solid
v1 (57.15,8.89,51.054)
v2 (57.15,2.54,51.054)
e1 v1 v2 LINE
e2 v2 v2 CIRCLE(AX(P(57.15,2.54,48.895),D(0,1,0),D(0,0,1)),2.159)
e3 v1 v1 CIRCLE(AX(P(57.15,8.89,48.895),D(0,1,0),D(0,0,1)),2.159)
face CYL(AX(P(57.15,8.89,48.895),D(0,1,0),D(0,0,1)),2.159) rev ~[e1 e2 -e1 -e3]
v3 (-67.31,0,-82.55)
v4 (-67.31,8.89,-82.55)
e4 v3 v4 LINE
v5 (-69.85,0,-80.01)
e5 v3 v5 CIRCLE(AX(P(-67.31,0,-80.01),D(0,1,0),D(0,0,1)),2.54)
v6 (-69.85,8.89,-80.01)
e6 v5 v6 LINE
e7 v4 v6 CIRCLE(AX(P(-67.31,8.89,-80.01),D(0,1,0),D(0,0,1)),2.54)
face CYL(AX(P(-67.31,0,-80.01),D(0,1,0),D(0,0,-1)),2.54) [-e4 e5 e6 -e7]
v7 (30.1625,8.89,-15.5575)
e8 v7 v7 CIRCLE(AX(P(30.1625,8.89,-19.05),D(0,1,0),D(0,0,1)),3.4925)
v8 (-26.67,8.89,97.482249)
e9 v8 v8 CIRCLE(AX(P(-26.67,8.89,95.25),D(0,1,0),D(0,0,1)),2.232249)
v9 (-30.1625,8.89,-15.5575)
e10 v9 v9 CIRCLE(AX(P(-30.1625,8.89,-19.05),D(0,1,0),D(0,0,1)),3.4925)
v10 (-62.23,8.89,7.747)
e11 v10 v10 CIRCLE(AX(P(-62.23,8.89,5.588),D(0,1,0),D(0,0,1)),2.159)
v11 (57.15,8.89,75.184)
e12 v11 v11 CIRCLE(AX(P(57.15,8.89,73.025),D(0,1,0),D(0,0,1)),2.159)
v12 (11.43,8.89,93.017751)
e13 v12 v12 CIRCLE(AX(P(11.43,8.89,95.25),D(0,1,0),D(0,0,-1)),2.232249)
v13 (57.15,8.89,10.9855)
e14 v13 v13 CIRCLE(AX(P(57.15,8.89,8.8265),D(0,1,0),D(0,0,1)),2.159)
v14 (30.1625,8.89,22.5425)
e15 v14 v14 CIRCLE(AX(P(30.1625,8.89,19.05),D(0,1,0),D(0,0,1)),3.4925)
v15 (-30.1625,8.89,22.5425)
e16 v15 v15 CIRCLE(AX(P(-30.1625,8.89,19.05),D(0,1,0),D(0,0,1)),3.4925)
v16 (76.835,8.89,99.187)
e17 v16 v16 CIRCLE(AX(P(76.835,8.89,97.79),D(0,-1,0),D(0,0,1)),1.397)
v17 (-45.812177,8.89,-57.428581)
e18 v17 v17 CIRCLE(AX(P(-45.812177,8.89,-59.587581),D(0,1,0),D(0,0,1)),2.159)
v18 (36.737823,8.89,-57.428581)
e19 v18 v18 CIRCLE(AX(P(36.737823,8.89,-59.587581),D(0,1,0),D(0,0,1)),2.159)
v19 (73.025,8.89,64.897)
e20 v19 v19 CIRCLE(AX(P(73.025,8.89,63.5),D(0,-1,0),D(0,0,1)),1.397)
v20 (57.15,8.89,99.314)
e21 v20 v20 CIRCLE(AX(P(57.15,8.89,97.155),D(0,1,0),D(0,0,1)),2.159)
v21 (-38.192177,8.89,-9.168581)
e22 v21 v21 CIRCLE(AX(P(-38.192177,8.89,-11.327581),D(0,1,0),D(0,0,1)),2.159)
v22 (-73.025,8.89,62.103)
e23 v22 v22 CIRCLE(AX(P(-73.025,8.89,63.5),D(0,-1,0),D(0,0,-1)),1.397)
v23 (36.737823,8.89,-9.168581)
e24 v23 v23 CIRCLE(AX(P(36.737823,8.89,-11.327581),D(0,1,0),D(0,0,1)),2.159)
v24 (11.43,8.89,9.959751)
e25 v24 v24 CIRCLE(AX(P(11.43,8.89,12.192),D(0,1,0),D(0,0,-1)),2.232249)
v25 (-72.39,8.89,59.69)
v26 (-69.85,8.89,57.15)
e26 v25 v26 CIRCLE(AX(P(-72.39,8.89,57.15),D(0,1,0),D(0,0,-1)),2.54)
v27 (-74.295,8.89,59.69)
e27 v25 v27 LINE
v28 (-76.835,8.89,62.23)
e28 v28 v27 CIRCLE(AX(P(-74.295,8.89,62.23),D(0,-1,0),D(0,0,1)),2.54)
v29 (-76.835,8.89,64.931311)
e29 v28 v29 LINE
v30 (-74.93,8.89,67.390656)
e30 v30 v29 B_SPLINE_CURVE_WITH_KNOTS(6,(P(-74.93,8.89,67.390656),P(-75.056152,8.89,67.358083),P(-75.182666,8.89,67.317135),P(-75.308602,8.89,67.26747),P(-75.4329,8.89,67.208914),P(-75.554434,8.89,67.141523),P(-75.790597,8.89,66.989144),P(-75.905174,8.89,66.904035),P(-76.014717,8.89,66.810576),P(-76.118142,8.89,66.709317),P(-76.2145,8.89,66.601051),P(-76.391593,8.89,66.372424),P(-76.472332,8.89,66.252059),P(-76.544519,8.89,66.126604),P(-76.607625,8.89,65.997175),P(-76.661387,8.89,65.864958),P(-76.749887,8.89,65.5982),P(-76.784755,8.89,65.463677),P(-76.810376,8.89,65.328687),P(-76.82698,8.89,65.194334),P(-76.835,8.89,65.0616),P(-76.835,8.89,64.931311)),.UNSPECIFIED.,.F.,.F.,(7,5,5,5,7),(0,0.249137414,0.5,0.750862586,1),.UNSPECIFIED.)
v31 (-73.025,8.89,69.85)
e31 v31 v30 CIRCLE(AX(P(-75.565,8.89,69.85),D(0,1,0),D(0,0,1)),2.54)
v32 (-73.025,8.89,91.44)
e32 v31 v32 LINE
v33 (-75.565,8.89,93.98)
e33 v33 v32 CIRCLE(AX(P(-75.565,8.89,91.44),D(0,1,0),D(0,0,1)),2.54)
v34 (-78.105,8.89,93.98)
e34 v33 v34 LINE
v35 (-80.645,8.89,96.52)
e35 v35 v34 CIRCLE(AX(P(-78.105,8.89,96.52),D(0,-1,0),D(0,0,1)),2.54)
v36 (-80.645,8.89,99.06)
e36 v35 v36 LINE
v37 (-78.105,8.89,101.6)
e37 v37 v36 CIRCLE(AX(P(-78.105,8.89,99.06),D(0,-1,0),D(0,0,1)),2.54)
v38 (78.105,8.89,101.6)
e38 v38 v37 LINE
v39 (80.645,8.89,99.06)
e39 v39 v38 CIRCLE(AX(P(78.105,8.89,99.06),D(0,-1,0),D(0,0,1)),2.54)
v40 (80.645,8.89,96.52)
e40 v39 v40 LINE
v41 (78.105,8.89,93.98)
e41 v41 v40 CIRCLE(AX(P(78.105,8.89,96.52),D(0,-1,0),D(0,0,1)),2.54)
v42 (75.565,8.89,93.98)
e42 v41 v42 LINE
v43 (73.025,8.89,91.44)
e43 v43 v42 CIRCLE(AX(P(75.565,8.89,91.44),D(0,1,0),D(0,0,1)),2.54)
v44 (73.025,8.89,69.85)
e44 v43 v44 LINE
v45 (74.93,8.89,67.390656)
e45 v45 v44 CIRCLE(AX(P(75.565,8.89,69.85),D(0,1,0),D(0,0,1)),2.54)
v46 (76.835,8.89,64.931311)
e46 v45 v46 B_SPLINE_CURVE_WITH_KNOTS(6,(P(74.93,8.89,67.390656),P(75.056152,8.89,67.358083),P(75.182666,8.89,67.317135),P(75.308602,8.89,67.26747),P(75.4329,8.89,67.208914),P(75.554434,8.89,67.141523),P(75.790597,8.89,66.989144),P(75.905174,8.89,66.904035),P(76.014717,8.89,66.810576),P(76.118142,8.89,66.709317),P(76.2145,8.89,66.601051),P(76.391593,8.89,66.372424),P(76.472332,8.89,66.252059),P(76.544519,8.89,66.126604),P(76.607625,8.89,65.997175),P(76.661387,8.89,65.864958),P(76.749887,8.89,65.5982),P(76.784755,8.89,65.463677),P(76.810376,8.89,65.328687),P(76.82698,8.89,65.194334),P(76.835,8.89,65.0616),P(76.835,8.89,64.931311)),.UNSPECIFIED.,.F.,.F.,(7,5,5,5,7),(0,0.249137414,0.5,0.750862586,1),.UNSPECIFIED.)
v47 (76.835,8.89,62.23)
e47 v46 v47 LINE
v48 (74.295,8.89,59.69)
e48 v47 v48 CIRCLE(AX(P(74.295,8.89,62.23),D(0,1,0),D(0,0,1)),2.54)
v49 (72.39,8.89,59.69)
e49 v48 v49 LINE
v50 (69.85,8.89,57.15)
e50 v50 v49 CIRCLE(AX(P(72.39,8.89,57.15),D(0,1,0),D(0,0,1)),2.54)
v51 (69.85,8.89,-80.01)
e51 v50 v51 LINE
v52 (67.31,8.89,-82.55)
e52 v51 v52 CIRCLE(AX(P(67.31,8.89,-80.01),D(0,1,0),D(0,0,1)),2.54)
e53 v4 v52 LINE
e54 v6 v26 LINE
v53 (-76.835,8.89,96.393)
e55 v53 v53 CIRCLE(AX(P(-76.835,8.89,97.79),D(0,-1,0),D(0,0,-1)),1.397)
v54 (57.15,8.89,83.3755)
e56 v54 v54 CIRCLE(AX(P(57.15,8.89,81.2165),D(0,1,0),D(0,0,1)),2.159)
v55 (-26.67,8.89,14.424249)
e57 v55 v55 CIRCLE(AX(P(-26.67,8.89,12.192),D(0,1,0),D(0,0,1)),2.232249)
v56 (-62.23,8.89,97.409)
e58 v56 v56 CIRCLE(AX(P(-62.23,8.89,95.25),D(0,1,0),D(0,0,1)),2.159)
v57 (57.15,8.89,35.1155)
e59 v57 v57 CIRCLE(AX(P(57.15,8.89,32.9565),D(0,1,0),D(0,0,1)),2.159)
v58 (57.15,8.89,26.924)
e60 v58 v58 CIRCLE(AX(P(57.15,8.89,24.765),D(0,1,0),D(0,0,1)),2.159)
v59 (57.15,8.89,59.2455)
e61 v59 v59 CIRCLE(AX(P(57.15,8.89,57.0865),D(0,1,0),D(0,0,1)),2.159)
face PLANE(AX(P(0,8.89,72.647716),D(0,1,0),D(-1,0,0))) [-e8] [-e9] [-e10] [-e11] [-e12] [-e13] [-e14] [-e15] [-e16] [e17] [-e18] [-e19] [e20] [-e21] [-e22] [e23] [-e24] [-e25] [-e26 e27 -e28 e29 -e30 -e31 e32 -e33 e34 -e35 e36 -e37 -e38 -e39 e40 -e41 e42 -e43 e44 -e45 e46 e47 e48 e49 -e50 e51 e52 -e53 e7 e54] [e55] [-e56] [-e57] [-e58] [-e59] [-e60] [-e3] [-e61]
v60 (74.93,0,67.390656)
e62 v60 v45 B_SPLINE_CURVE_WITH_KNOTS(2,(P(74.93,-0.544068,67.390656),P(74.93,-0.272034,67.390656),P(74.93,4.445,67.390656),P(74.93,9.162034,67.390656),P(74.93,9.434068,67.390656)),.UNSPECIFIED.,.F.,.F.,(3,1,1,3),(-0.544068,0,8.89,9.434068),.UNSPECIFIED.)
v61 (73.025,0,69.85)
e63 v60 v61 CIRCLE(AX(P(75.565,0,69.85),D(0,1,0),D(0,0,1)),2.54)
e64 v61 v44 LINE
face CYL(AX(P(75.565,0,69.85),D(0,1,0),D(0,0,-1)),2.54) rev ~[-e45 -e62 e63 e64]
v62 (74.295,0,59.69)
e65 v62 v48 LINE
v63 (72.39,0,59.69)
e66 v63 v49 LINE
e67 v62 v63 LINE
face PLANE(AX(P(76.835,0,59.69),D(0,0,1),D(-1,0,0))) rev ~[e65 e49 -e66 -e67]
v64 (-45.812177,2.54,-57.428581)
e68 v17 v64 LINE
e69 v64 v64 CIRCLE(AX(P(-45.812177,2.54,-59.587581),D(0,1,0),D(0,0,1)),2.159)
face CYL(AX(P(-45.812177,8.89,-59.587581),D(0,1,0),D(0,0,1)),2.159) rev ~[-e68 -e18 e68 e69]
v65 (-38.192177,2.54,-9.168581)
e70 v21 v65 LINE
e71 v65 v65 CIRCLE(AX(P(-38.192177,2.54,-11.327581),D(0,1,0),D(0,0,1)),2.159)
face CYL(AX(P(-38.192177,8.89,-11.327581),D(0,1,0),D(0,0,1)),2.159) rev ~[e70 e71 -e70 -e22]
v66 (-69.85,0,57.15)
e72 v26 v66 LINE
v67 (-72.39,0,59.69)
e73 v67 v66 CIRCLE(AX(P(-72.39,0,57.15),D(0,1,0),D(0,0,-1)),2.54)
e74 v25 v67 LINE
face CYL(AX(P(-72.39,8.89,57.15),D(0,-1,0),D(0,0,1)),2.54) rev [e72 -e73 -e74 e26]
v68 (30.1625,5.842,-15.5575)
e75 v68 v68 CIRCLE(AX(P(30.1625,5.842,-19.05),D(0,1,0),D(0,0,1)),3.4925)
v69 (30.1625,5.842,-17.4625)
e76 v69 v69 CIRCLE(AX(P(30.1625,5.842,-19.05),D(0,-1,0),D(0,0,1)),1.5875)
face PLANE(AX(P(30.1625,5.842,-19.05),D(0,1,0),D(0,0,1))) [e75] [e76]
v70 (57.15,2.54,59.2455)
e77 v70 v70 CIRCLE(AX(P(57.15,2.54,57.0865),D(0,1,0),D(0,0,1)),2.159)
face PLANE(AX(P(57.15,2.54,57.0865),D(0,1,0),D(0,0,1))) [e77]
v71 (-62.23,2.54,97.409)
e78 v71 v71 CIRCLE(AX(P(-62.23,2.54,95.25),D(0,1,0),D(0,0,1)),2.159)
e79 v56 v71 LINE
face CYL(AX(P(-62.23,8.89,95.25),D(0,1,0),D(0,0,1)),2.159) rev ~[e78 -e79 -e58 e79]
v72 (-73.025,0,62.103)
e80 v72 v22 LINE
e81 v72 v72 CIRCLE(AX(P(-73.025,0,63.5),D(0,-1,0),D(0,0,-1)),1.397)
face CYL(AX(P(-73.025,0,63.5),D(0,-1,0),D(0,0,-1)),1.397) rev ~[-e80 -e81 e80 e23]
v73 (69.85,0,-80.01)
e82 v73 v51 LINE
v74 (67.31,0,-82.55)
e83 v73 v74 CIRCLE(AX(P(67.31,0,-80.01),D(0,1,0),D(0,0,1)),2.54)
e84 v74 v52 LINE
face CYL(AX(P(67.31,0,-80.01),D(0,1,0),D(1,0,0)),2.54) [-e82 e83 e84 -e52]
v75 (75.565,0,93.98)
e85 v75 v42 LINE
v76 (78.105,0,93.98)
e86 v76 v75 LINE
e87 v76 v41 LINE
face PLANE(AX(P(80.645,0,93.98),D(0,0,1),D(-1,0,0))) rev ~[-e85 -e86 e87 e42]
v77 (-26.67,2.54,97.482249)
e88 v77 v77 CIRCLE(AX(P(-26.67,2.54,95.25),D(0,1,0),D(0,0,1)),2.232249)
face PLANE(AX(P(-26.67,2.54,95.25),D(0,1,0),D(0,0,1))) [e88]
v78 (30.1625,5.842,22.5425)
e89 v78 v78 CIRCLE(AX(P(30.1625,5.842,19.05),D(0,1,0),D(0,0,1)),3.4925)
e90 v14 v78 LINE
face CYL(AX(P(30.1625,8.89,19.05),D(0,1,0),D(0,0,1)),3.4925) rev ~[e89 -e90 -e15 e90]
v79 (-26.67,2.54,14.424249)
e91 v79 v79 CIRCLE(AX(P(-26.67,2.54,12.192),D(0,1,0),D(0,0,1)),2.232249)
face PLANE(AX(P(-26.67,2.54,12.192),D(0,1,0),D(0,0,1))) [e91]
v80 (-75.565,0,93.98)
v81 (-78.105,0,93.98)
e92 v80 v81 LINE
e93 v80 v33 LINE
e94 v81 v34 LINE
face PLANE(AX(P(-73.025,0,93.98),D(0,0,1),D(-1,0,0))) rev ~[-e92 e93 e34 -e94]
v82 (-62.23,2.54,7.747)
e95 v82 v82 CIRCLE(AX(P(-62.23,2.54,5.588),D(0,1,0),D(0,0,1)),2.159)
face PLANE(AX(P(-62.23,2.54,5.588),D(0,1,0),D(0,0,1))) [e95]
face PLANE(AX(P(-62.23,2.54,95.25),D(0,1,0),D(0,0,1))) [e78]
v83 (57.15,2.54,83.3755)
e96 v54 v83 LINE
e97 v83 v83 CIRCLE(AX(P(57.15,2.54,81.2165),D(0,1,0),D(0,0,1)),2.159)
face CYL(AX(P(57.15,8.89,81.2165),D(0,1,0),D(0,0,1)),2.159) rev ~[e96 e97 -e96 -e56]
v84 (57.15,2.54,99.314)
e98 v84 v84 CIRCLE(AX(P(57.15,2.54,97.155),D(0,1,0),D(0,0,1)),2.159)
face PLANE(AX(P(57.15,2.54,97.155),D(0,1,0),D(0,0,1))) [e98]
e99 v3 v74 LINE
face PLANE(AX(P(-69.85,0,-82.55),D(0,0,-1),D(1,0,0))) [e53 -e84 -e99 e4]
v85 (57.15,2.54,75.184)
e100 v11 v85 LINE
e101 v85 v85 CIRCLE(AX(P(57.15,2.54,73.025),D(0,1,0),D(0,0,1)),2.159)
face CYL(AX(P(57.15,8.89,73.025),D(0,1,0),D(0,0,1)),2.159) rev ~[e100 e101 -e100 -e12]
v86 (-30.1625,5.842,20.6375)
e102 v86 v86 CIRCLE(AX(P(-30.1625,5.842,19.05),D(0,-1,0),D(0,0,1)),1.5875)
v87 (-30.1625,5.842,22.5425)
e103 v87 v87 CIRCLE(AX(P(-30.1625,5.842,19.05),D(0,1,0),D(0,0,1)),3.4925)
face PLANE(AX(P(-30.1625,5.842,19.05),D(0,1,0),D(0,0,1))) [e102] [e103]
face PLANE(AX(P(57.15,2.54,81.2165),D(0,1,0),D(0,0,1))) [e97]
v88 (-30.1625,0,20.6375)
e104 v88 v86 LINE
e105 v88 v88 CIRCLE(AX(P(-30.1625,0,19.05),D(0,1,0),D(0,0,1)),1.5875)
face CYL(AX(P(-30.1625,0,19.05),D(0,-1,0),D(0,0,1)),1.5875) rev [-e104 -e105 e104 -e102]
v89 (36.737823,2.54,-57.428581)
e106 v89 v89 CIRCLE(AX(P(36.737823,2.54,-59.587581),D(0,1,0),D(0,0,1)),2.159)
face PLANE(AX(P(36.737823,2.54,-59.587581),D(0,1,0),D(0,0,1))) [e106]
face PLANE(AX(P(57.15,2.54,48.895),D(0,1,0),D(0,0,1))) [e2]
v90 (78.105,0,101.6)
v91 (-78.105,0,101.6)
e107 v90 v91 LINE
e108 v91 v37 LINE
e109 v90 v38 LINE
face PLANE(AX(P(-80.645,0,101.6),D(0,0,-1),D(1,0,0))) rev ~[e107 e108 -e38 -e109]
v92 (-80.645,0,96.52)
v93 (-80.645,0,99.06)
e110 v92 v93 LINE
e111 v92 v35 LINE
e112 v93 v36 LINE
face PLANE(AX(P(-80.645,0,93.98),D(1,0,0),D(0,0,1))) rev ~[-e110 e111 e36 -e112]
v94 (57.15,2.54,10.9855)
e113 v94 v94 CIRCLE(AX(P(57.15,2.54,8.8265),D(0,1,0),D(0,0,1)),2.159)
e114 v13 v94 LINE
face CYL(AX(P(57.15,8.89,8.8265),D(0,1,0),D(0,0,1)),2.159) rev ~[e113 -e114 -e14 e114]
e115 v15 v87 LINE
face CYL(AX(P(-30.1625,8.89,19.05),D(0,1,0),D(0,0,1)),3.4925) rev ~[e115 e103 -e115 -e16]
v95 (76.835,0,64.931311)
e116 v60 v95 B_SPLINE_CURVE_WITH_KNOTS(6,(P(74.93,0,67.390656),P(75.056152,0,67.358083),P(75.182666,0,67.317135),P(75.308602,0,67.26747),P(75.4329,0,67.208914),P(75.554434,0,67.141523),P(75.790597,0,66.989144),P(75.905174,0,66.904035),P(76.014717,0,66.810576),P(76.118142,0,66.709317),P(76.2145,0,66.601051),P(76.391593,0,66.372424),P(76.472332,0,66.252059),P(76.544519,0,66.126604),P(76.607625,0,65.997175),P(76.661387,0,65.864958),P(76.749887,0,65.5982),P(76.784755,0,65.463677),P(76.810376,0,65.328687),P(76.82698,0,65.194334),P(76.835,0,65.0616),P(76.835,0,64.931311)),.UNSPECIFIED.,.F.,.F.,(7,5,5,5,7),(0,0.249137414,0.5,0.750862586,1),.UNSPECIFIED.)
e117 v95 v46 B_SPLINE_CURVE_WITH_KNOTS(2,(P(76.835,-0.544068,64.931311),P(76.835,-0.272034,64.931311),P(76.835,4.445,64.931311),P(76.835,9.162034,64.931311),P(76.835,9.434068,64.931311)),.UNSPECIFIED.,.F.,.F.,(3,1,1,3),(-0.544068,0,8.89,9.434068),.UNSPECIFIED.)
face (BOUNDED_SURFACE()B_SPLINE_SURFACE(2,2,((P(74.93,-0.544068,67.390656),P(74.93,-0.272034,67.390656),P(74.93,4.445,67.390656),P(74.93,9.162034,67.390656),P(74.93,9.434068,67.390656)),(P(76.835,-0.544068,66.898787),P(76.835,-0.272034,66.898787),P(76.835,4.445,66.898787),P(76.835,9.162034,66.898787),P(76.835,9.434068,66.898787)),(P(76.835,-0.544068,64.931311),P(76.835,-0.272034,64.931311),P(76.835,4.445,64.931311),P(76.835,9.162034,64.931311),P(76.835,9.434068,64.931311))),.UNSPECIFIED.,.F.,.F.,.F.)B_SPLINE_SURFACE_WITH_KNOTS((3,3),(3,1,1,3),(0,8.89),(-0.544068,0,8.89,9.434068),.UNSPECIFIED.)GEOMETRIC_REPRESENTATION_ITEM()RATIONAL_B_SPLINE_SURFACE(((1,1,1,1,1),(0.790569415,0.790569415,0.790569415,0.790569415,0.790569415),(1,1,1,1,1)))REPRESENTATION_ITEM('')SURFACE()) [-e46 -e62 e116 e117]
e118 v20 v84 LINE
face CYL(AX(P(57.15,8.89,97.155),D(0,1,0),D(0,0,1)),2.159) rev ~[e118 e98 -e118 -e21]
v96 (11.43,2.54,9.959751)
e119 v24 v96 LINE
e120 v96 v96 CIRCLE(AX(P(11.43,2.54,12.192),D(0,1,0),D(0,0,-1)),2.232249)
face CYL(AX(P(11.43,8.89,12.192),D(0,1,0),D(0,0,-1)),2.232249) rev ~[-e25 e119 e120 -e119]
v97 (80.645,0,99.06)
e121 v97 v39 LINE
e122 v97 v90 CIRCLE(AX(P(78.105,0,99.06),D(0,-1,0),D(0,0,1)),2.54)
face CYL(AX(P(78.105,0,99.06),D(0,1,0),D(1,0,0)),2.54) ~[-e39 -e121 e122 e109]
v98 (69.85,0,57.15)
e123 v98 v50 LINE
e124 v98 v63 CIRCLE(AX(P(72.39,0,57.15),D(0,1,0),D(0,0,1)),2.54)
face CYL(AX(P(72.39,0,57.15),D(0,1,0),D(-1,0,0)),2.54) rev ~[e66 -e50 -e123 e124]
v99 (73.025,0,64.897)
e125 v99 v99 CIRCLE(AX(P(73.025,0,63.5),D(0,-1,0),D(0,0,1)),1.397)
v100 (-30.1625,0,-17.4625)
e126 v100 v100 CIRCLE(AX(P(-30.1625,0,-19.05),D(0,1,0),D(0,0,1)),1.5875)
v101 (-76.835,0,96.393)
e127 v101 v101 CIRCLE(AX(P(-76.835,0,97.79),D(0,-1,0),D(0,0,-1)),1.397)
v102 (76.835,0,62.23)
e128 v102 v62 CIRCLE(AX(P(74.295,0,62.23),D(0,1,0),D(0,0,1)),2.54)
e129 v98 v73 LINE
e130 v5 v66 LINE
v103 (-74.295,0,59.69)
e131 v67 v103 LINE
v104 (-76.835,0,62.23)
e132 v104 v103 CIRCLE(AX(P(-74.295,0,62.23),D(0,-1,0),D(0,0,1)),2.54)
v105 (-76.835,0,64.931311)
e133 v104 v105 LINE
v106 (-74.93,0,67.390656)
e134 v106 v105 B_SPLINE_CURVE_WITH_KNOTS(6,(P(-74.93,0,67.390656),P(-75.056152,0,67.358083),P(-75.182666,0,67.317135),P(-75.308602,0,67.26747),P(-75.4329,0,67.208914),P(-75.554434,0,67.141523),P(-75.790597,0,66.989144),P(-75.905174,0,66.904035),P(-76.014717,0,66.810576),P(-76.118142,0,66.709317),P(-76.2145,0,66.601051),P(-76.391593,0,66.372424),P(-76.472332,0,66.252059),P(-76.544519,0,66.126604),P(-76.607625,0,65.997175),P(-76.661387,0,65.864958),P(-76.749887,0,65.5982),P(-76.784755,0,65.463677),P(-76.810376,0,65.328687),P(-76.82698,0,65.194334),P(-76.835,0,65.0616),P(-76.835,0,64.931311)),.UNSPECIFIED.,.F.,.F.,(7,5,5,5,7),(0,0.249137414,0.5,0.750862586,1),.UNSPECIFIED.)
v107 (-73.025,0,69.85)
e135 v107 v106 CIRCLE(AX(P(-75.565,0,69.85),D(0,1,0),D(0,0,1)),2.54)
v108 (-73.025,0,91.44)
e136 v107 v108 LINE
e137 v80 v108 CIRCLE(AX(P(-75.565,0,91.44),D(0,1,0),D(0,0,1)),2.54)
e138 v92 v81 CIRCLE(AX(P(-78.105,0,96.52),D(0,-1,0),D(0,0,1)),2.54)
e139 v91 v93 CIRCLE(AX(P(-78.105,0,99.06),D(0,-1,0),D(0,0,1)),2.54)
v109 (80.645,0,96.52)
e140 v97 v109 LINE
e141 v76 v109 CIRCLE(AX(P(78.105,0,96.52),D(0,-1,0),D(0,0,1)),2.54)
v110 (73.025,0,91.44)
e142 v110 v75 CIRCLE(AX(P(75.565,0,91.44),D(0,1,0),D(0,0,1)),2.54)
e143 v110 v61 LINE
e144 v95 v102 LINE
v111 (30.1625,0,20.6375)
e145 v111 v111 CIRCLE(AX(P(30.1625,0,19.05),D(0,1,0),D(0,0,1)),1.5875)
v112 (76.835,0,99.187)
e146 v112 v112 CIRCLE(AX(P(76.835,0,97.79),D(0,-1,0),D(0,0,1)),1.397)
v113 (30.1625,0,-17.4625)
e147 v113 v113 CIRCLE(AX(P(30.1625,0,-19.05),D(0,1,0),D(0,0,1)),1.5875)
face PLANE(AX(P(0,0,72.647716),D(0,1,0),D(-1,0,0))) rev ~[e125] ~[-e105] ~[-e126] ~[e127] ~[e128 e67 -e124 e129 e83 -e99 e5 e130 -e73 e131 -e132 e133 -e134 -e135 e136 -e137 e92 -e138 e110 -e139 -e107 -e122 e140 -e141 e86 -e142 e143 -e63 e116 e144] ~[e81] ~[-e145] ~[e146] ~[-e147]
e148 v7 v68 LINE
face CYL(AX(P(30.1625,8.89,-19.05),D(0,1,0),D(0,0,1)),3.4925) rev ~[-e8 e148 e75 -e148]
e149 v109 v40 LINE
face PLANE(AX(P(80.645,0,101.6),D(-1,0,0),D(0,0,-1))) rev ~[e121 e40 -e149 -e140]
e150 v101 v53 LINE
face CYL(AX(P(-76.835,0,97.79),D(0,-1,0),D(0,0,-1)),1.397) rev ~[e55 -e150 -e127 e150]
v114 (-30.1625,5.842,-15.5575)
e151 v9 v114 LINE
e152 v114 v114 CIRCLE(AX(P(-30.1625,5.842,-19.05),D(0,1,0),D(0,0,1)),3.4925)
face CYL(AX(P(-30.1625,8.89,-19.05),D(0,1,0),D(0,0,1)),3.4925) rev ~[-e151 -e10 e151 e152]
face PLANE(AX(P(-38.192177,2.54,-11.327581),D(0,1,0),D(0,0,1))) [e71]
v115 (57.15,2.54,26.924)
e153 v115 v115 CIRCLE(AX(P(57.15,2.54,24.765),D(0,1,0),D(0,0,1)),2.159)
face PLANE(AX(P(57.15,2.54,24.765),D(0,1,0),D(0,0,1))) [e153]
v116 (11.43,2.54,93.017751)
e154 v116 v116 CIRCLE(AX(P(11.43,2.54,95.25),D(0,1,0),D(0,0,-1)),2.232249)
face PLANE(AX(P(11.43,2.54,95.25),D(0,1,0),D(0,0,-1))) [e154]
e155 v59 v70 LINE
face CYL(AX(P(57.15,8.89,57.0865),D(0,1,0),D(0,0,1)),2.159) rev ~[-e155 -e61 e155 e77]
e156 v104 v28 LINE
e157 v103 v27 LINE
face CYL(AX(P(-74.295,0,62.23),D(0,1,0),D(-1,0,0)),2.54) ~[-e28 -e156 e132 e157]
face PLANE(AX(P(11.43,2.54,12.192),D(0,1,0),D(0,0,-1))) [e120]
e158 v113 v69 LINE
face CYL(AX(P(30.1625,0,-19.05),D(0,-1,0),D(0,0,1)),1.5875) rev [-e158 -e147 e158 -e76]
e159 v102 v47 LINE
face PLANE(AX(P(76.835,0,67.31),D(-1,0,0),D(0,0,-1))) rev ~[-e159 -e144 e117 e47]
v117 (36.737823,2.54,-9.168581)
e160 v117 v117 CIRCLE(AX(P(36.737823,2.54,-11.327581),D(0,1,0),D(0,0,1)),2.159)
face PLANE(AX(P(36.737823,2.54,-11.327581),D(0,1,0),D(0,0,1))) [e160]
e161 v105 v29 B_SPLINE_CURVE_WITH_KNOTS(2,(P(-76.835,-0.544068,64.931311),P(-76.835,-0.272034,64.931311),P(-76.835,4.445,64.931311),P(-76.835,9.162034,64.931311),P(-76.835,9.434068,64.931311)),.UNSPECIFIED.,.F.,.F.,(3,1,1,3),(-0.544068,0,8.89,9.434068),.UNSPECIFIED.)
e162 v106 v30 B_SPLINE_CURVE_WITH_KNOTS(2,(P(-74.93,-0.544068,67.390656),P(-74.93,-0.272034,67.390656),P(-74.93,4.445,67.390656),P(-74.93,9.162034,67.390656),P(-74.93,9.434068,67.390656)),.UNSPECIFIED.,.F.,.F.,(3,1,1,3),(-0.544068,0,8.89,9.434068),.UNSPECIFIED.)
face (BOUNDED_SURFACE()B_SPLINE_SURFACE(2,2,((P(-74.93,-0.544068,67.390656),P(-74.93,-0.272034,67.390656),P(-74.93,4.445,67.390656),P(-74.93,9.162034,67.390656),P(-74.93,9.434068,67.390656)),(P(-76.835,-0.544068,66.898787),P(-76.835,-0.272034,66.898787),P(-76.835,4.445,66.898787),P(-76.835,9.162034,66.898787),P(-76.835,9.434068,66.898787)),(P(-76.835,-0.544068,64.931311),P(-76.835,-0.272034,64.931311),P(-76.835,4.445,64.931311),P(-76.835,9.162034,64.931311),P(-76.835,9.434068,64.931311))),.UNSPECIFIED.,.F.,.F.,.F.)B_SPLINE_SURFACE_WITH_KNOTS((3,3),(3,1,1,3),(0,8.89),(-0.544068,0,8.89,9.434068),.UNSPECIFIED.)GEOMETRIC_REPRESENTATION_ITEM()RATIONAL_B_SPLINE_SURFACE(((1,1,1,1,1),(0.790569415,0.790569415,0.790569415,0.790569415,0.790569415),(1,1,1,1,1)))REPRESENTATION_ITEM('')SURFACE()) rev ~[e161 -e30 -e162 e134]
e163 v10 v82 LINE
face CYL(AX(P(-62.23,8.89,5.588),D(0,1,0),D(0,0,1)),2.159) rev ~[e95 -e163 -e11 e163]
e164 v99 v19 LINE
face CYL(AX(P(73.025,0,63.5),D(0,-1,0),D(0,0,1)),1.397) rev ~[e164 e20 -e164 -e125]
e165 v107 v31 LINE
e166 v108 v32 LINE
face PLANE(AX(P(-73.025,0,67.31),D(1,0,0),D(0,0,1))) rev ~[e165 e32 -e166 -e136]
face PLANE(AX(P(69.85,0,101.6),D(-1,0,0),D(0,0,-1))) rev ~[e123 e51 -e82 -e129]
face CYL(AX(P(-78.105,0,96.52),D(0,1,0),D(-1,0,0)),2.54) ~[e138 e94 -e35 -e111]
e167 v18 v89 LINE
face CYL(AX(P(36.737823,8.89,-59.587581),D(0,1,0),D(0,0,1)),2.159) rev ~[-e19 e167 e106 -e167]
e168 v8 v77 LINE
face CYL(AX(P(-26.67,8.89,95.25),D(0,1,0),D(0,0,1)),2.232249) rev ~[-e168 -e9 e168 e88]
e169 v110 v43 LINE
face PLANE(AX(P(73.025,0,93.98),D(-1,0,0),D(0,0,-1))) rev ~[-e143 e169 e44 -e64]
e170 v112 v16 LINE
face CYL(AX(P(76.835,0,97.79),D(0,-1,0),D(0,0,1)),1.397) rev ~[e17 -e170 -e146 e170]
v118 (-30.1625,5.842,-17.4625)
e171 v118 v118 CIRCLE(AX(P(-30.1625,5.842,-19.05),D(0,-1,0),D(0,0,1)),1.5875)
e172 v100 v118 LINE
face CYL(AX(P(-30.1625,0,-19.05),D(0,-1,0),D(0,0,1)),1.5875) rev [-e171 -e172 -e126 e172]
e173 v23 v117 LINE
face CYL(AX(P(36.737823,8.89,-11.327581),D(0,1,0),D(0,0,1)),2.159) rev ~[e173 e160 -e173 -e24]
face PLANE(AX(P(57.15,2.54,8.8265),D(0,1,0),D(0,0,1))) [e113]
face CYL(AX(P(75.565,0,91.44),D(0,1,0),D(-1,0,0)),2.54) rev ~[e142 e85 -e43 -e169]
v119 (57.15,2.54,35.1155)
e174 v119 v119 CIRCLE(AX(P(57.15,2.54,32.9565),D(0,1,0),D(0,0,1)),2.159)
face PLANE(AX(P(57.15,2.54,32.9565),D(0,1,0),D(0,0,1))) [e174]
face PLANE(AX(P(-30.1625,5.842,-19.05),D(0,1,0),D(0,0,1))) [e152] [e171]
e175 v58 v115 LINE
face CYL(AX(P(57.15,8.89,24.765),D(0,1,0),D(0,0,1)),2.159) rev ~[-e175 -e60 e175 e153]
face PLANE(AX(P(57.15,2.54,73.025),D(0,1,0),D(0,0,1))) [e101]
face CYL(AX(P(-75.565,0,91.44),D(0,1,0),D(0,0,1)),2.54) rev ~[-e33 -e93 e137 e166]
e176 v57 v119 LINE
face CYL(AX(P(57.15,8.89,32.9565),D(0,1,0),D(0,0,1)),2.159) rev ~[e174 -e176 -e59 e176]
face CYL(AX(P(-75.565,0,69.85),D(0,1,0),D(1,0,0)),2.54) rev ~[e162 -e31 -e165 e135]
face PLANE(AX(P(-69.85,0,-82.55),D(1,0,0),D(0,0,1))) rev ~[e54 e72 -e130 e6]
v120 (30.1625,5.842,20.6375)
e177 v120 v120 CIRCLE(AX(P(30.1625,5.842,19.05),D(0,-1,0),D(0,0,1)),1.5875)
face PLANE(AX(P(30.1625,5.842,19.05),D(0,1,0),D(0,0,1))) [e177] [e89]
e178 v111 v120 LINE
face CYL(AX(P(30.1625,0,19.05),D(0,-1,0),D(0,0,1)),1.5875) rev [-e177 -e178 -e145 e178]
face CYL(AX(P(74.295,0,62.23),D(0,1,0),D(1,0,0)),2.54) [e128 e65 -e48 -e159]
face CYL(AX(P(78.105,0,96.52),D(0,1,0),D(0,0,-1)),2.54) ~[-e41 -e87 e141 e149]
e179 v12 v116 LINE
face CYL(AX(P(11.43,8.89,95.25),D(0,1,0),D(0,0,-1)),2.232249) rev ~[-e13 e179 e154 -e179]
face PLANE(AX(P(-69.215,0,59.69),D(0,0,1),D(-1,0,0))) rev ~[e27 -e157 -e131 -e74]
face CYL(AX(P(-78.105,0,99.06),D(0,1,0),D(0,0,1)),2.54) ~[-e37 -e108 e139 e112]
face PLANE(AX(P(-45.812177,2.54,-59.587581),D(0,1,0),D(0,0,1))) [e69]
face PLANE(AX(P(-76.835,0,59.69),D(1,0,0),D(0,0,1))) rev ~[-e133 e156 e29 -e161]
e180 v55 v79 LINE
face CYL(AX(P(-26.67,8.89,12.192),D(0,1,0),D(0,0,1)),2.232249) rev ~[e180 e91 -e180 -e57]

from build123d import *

# Parameters (mm, degrees)
SKETCH2_R                    = 1.5875
MAINPLATE_DEPTH              = 8.89
SKETCH3_R                    = 3.4925
CASTERWHEEL_MOUNTHOLES_DEPTH = 3.048
SKETCH4_R                    = 2.159
ARDUINO_MOUNTHOLES_DEPTH     = 6.35
SKETCH5_R                    = 2.159
PDB_16A_MOUNTINGHOLES_DEPTH  = 6.35
SKETCH6_R                    = 2.232248555
PDB_15A_MOUNTINGHOLES_DEPTH  = 6.35
SKETCH7_R                    = 2.159
DRV8871_MOUNTINGHOLES_DEPTH  = 6.35
DRV8871_MOUNTPATTERN_COUNT   = 4
DRV8871_MOUNTPATTERN_PITCH   = 24.13
SKETCH8_R                    = 1.397
BOSS_EXTRUDE1_DEPTH          = 8.89
FILLET1_R                    = 2.54
FILLET2_R                    = 2.54


with BuildPart() as part:
    # Sketch2 → MainPlate (new body)
    with BuildSketch(Plane(origin=(0, 0, 0), x_dir=(1, 0, 0), z_dir=(0, 1, 0))):
        Polygon((-69.85, 0), (-69.85, 82.55), (69.85, 82.55), (69.85, 0), (69.85, -101.6), (-69.85, -101.6), align=None)
        with Locations(Location((30.1625, 19.05, 0), (0, 0, 270))):
            Circle(SKETCH2_R, mode=Mode.SUBTRACT)
        with Locations(Location((30.1625, -19.05, 0), (0, 0, 270))):
            Circle(SKETCH2_R, mode=Mode.SUBTRACT)
        with Locations(Location((-30.1625, -19.05, 0), (0, 0, 270))):
            Circle(SKETCH2_R, mode=Mode.SUBTRACT)
        with Locations(Location((-30.1625, 19.05, 0), (0, 0, 270))):
            Circle(SKETCH2_R, mode=Mode.SUBTRACT)
    extrude(amount=MAINPLATE_DEPTH)

    # Sketch3 → CasterWheel_MountHoles (cut)
    with BuildSketch(Plane(origin=(0, 8.89, 0), x_dir=(1, 0, 0), z_dir=(0, 1, 0))):
        with Locations(Location((-30.1625, 19.05, 0), (0, 0, 270))):
            Circle(SKETCH3_R)
        with Locations(Location((30.1625, 19.05, 0), (0, 0, 270))):
            Circle(SKETCH3_R)
        with Locations(Location((-30.1625, -19.05, 0), (0, 0, 270))):
            Circle(SKETCH3_R)
        with Locations(Location((30.1625, -19.05, 0), (0, 0, 270))):
            Circle(SKETCH3_R)
    extrude(amount=-CASTERWHEEL_MOUNTHOLES_DEPTH, mode=Mode.SUBTRACT)

    # Sketch4 → Arduino_MountHoles (cut)
    with BuildSketch(Plane(origin=(0, 8.89, 0), x_dir=(1, 0, 0), z_dir=(0, 1, 0))):
        with Locations(Location((-45.812177419, 59.587580645, 0), (0, 0, 270))):
            Circle(SKETCH4_R)
        with Locations(Location((-38.192177419, 11.327580645, 0), (0, 0, 270))):
            Circle(SKETCH4_R)
        with Locations(Location((36.737822581, 59.587580645, 0), (0, 0, 270))):
            Circle(SKETCH4_R)
        with Locations(Location((36.737822581, 11.327580645, 0), (0, 0, 270))):
            Circle(SKETCH4_R)
    extrude(amount=-ARDUINO_MOUNTHOLES_DEPTH, mode=Mode.SUBTRACT)

    # Sketch5 → PDB_16A_MountingHoles (cut)
    with BuildSketch(Plane(origin=(0, 8.89, 0), x_dir=(1, 0, 0), z_dir=(0, 1, 0))):
        with Locations(Location((-62.23, -5.588, 0), (0, 0, 270))):
            Circle(SKETCH5_R)
        with Locations(Location((-62.23, -95.25, 0), (0, 0, 270))):
            Circle(SKETCH5_R)
    extrude(amount=-PDB_16A_MOUNTINGHOLES_DEPTH, mode=Mode.SUBTRACT)

    # Sketch6 → PDB_15A_MountingHoles (cut)
    with BuildSketch(Plane(origin=(0, 8.89, 0), x_dir=(1, 0, 0), z_dir=(0, 1, 0))):
        with Locations(Location((-26.67, -95.25, 0), (0, 0, 270))):
            Circle(SKETCH6_R)
        with Locations(Location((-26.67, -12.192, 0), (0, 0, 270))):
            Circle(SKETCH6_R)
        with Locations(Location((11.43, -12.192, 0), (0, 0, 90))):
            Circle(SKETCH6_R)
        with Locations(Location((11.43, -95.25, 0), (0, 0, 90))):
            Circle(SKETCH6_R)
    extrude(amount=-PDB_15A_MOUNTINGHOLES_DEPTH, mode=Mode.SUBTRACT)

    # Sketch7 → DRV8871_MountingHoles (cut)
    with BuildSketch(Plane(origin=(0, 8.89, 0), x_dir=(1, 0, 0), z_dir=(0, 1, 0))):
        with Locations(Location((57.15, -97.155, 0), (0, 0, 270))):
            Circle(SKETCH7_R)
        with Locations(Location((57.15, -81.2165, 0), (0, 0, 270))):
            Circle(SKETCH7_R)
    drv8871_mountingholes = extrude(amount=-DRV8871_MOUNTINGHOLES_DEPTH, mode=Mode.SUBTRACT)

    # DRV8871_MountPattern: DRV8871_MountingHoles ×4
    with Locations(*[(0, 0, -i * DRV8871_MOUNTPATTERN_PITCH) for i in range(1, DRV8871_MOUNTPATTERN_COUNT)]):
        add(drv8871_mountingholes, mode=Mode.SUBTRACT)

    # Sketch8 → Boss-Extrude1 (add)
    with BuildSketch(Plane.XZ):
        Polygon((-69.85, 101.6), (-69.85, 66.675), (69.85, 66.675), (69.85, 101.6), (80.645, 101.6), (80.645, 93.98), (73.025, 93.98), (73.025, 67.31), (76.835, 67.31), (76.835, 59.69), (69.215, 59.69), (69.215, 63.5), (-69.215, 63.5), (-69.215, 59.69), (-76.835, 59.69), (-76.835, 67.31), (-73.025, 67.31), (-73.025, 93.98), (-80.645, 93.98), (-80.645, 101.6), align=None)
        with Locations(Location((-76.835, 97.79, 0), (0, 0, 270))):
            Circle(SKETCH8_R, mode=Mode.SUBTRACT)
        with Locations(Location((-73.025, 63.5, 0), (0, 0, 270))):
            Circle(SKETCH8_R, mode=Mode.SUBTRACT)
        with Locations(Location((73.025, 63.5, 0), (0, 0, 90))):
            Circle(SKETCH8_R, mode=Mode.SUBTRACT)
        with Locations(Location((76.835, 97.79, 0), (0, 0, 90))):
            Circle(SKETCH8_R, mode=Mode.SUBTRACT)
    extrude(amount=-BOSS_EXTRUDE1_DEPTH)

    # Fillet1
    fillet1_edges = [part.edges().sort_by_distance(p)[0] for p in [
        (-69.85, 4.445, 59.69),
        (69.85, 4.445, 59.69),
        (73.025, 4.445, 93.98),
        (73.025, 4.445, 67.31),
        (-73.025, 4.445, 67.31),
        (-73.025, 4.445, 93.98),
    ]]
    fillet(fillet1_edges, radius=FILLET1_R)

    # Fillet2
    fillet2_edges = [part.edges().sort_by_distance(p)[0] for p in [
        (-69.85, 4.445, -82.55),
        (-76.835, 4.445, 59.69),
        (-76.835, 4.445, 67.31),
        (-80.645, 4.445, 93.98),
        (-80.645, 4.445, 101.6),
        (69.85, 4.445, -82.55),
        (76.835, 4.445, 59.69),
        (76.835, 4.445, 67.31),
        (80.645, 4.445, 93.98),
        (80.645, 4.445, 101.6),
    ]]
    fillet(fillet2_edges, radius=FILLET2_R)


solid = part.part
